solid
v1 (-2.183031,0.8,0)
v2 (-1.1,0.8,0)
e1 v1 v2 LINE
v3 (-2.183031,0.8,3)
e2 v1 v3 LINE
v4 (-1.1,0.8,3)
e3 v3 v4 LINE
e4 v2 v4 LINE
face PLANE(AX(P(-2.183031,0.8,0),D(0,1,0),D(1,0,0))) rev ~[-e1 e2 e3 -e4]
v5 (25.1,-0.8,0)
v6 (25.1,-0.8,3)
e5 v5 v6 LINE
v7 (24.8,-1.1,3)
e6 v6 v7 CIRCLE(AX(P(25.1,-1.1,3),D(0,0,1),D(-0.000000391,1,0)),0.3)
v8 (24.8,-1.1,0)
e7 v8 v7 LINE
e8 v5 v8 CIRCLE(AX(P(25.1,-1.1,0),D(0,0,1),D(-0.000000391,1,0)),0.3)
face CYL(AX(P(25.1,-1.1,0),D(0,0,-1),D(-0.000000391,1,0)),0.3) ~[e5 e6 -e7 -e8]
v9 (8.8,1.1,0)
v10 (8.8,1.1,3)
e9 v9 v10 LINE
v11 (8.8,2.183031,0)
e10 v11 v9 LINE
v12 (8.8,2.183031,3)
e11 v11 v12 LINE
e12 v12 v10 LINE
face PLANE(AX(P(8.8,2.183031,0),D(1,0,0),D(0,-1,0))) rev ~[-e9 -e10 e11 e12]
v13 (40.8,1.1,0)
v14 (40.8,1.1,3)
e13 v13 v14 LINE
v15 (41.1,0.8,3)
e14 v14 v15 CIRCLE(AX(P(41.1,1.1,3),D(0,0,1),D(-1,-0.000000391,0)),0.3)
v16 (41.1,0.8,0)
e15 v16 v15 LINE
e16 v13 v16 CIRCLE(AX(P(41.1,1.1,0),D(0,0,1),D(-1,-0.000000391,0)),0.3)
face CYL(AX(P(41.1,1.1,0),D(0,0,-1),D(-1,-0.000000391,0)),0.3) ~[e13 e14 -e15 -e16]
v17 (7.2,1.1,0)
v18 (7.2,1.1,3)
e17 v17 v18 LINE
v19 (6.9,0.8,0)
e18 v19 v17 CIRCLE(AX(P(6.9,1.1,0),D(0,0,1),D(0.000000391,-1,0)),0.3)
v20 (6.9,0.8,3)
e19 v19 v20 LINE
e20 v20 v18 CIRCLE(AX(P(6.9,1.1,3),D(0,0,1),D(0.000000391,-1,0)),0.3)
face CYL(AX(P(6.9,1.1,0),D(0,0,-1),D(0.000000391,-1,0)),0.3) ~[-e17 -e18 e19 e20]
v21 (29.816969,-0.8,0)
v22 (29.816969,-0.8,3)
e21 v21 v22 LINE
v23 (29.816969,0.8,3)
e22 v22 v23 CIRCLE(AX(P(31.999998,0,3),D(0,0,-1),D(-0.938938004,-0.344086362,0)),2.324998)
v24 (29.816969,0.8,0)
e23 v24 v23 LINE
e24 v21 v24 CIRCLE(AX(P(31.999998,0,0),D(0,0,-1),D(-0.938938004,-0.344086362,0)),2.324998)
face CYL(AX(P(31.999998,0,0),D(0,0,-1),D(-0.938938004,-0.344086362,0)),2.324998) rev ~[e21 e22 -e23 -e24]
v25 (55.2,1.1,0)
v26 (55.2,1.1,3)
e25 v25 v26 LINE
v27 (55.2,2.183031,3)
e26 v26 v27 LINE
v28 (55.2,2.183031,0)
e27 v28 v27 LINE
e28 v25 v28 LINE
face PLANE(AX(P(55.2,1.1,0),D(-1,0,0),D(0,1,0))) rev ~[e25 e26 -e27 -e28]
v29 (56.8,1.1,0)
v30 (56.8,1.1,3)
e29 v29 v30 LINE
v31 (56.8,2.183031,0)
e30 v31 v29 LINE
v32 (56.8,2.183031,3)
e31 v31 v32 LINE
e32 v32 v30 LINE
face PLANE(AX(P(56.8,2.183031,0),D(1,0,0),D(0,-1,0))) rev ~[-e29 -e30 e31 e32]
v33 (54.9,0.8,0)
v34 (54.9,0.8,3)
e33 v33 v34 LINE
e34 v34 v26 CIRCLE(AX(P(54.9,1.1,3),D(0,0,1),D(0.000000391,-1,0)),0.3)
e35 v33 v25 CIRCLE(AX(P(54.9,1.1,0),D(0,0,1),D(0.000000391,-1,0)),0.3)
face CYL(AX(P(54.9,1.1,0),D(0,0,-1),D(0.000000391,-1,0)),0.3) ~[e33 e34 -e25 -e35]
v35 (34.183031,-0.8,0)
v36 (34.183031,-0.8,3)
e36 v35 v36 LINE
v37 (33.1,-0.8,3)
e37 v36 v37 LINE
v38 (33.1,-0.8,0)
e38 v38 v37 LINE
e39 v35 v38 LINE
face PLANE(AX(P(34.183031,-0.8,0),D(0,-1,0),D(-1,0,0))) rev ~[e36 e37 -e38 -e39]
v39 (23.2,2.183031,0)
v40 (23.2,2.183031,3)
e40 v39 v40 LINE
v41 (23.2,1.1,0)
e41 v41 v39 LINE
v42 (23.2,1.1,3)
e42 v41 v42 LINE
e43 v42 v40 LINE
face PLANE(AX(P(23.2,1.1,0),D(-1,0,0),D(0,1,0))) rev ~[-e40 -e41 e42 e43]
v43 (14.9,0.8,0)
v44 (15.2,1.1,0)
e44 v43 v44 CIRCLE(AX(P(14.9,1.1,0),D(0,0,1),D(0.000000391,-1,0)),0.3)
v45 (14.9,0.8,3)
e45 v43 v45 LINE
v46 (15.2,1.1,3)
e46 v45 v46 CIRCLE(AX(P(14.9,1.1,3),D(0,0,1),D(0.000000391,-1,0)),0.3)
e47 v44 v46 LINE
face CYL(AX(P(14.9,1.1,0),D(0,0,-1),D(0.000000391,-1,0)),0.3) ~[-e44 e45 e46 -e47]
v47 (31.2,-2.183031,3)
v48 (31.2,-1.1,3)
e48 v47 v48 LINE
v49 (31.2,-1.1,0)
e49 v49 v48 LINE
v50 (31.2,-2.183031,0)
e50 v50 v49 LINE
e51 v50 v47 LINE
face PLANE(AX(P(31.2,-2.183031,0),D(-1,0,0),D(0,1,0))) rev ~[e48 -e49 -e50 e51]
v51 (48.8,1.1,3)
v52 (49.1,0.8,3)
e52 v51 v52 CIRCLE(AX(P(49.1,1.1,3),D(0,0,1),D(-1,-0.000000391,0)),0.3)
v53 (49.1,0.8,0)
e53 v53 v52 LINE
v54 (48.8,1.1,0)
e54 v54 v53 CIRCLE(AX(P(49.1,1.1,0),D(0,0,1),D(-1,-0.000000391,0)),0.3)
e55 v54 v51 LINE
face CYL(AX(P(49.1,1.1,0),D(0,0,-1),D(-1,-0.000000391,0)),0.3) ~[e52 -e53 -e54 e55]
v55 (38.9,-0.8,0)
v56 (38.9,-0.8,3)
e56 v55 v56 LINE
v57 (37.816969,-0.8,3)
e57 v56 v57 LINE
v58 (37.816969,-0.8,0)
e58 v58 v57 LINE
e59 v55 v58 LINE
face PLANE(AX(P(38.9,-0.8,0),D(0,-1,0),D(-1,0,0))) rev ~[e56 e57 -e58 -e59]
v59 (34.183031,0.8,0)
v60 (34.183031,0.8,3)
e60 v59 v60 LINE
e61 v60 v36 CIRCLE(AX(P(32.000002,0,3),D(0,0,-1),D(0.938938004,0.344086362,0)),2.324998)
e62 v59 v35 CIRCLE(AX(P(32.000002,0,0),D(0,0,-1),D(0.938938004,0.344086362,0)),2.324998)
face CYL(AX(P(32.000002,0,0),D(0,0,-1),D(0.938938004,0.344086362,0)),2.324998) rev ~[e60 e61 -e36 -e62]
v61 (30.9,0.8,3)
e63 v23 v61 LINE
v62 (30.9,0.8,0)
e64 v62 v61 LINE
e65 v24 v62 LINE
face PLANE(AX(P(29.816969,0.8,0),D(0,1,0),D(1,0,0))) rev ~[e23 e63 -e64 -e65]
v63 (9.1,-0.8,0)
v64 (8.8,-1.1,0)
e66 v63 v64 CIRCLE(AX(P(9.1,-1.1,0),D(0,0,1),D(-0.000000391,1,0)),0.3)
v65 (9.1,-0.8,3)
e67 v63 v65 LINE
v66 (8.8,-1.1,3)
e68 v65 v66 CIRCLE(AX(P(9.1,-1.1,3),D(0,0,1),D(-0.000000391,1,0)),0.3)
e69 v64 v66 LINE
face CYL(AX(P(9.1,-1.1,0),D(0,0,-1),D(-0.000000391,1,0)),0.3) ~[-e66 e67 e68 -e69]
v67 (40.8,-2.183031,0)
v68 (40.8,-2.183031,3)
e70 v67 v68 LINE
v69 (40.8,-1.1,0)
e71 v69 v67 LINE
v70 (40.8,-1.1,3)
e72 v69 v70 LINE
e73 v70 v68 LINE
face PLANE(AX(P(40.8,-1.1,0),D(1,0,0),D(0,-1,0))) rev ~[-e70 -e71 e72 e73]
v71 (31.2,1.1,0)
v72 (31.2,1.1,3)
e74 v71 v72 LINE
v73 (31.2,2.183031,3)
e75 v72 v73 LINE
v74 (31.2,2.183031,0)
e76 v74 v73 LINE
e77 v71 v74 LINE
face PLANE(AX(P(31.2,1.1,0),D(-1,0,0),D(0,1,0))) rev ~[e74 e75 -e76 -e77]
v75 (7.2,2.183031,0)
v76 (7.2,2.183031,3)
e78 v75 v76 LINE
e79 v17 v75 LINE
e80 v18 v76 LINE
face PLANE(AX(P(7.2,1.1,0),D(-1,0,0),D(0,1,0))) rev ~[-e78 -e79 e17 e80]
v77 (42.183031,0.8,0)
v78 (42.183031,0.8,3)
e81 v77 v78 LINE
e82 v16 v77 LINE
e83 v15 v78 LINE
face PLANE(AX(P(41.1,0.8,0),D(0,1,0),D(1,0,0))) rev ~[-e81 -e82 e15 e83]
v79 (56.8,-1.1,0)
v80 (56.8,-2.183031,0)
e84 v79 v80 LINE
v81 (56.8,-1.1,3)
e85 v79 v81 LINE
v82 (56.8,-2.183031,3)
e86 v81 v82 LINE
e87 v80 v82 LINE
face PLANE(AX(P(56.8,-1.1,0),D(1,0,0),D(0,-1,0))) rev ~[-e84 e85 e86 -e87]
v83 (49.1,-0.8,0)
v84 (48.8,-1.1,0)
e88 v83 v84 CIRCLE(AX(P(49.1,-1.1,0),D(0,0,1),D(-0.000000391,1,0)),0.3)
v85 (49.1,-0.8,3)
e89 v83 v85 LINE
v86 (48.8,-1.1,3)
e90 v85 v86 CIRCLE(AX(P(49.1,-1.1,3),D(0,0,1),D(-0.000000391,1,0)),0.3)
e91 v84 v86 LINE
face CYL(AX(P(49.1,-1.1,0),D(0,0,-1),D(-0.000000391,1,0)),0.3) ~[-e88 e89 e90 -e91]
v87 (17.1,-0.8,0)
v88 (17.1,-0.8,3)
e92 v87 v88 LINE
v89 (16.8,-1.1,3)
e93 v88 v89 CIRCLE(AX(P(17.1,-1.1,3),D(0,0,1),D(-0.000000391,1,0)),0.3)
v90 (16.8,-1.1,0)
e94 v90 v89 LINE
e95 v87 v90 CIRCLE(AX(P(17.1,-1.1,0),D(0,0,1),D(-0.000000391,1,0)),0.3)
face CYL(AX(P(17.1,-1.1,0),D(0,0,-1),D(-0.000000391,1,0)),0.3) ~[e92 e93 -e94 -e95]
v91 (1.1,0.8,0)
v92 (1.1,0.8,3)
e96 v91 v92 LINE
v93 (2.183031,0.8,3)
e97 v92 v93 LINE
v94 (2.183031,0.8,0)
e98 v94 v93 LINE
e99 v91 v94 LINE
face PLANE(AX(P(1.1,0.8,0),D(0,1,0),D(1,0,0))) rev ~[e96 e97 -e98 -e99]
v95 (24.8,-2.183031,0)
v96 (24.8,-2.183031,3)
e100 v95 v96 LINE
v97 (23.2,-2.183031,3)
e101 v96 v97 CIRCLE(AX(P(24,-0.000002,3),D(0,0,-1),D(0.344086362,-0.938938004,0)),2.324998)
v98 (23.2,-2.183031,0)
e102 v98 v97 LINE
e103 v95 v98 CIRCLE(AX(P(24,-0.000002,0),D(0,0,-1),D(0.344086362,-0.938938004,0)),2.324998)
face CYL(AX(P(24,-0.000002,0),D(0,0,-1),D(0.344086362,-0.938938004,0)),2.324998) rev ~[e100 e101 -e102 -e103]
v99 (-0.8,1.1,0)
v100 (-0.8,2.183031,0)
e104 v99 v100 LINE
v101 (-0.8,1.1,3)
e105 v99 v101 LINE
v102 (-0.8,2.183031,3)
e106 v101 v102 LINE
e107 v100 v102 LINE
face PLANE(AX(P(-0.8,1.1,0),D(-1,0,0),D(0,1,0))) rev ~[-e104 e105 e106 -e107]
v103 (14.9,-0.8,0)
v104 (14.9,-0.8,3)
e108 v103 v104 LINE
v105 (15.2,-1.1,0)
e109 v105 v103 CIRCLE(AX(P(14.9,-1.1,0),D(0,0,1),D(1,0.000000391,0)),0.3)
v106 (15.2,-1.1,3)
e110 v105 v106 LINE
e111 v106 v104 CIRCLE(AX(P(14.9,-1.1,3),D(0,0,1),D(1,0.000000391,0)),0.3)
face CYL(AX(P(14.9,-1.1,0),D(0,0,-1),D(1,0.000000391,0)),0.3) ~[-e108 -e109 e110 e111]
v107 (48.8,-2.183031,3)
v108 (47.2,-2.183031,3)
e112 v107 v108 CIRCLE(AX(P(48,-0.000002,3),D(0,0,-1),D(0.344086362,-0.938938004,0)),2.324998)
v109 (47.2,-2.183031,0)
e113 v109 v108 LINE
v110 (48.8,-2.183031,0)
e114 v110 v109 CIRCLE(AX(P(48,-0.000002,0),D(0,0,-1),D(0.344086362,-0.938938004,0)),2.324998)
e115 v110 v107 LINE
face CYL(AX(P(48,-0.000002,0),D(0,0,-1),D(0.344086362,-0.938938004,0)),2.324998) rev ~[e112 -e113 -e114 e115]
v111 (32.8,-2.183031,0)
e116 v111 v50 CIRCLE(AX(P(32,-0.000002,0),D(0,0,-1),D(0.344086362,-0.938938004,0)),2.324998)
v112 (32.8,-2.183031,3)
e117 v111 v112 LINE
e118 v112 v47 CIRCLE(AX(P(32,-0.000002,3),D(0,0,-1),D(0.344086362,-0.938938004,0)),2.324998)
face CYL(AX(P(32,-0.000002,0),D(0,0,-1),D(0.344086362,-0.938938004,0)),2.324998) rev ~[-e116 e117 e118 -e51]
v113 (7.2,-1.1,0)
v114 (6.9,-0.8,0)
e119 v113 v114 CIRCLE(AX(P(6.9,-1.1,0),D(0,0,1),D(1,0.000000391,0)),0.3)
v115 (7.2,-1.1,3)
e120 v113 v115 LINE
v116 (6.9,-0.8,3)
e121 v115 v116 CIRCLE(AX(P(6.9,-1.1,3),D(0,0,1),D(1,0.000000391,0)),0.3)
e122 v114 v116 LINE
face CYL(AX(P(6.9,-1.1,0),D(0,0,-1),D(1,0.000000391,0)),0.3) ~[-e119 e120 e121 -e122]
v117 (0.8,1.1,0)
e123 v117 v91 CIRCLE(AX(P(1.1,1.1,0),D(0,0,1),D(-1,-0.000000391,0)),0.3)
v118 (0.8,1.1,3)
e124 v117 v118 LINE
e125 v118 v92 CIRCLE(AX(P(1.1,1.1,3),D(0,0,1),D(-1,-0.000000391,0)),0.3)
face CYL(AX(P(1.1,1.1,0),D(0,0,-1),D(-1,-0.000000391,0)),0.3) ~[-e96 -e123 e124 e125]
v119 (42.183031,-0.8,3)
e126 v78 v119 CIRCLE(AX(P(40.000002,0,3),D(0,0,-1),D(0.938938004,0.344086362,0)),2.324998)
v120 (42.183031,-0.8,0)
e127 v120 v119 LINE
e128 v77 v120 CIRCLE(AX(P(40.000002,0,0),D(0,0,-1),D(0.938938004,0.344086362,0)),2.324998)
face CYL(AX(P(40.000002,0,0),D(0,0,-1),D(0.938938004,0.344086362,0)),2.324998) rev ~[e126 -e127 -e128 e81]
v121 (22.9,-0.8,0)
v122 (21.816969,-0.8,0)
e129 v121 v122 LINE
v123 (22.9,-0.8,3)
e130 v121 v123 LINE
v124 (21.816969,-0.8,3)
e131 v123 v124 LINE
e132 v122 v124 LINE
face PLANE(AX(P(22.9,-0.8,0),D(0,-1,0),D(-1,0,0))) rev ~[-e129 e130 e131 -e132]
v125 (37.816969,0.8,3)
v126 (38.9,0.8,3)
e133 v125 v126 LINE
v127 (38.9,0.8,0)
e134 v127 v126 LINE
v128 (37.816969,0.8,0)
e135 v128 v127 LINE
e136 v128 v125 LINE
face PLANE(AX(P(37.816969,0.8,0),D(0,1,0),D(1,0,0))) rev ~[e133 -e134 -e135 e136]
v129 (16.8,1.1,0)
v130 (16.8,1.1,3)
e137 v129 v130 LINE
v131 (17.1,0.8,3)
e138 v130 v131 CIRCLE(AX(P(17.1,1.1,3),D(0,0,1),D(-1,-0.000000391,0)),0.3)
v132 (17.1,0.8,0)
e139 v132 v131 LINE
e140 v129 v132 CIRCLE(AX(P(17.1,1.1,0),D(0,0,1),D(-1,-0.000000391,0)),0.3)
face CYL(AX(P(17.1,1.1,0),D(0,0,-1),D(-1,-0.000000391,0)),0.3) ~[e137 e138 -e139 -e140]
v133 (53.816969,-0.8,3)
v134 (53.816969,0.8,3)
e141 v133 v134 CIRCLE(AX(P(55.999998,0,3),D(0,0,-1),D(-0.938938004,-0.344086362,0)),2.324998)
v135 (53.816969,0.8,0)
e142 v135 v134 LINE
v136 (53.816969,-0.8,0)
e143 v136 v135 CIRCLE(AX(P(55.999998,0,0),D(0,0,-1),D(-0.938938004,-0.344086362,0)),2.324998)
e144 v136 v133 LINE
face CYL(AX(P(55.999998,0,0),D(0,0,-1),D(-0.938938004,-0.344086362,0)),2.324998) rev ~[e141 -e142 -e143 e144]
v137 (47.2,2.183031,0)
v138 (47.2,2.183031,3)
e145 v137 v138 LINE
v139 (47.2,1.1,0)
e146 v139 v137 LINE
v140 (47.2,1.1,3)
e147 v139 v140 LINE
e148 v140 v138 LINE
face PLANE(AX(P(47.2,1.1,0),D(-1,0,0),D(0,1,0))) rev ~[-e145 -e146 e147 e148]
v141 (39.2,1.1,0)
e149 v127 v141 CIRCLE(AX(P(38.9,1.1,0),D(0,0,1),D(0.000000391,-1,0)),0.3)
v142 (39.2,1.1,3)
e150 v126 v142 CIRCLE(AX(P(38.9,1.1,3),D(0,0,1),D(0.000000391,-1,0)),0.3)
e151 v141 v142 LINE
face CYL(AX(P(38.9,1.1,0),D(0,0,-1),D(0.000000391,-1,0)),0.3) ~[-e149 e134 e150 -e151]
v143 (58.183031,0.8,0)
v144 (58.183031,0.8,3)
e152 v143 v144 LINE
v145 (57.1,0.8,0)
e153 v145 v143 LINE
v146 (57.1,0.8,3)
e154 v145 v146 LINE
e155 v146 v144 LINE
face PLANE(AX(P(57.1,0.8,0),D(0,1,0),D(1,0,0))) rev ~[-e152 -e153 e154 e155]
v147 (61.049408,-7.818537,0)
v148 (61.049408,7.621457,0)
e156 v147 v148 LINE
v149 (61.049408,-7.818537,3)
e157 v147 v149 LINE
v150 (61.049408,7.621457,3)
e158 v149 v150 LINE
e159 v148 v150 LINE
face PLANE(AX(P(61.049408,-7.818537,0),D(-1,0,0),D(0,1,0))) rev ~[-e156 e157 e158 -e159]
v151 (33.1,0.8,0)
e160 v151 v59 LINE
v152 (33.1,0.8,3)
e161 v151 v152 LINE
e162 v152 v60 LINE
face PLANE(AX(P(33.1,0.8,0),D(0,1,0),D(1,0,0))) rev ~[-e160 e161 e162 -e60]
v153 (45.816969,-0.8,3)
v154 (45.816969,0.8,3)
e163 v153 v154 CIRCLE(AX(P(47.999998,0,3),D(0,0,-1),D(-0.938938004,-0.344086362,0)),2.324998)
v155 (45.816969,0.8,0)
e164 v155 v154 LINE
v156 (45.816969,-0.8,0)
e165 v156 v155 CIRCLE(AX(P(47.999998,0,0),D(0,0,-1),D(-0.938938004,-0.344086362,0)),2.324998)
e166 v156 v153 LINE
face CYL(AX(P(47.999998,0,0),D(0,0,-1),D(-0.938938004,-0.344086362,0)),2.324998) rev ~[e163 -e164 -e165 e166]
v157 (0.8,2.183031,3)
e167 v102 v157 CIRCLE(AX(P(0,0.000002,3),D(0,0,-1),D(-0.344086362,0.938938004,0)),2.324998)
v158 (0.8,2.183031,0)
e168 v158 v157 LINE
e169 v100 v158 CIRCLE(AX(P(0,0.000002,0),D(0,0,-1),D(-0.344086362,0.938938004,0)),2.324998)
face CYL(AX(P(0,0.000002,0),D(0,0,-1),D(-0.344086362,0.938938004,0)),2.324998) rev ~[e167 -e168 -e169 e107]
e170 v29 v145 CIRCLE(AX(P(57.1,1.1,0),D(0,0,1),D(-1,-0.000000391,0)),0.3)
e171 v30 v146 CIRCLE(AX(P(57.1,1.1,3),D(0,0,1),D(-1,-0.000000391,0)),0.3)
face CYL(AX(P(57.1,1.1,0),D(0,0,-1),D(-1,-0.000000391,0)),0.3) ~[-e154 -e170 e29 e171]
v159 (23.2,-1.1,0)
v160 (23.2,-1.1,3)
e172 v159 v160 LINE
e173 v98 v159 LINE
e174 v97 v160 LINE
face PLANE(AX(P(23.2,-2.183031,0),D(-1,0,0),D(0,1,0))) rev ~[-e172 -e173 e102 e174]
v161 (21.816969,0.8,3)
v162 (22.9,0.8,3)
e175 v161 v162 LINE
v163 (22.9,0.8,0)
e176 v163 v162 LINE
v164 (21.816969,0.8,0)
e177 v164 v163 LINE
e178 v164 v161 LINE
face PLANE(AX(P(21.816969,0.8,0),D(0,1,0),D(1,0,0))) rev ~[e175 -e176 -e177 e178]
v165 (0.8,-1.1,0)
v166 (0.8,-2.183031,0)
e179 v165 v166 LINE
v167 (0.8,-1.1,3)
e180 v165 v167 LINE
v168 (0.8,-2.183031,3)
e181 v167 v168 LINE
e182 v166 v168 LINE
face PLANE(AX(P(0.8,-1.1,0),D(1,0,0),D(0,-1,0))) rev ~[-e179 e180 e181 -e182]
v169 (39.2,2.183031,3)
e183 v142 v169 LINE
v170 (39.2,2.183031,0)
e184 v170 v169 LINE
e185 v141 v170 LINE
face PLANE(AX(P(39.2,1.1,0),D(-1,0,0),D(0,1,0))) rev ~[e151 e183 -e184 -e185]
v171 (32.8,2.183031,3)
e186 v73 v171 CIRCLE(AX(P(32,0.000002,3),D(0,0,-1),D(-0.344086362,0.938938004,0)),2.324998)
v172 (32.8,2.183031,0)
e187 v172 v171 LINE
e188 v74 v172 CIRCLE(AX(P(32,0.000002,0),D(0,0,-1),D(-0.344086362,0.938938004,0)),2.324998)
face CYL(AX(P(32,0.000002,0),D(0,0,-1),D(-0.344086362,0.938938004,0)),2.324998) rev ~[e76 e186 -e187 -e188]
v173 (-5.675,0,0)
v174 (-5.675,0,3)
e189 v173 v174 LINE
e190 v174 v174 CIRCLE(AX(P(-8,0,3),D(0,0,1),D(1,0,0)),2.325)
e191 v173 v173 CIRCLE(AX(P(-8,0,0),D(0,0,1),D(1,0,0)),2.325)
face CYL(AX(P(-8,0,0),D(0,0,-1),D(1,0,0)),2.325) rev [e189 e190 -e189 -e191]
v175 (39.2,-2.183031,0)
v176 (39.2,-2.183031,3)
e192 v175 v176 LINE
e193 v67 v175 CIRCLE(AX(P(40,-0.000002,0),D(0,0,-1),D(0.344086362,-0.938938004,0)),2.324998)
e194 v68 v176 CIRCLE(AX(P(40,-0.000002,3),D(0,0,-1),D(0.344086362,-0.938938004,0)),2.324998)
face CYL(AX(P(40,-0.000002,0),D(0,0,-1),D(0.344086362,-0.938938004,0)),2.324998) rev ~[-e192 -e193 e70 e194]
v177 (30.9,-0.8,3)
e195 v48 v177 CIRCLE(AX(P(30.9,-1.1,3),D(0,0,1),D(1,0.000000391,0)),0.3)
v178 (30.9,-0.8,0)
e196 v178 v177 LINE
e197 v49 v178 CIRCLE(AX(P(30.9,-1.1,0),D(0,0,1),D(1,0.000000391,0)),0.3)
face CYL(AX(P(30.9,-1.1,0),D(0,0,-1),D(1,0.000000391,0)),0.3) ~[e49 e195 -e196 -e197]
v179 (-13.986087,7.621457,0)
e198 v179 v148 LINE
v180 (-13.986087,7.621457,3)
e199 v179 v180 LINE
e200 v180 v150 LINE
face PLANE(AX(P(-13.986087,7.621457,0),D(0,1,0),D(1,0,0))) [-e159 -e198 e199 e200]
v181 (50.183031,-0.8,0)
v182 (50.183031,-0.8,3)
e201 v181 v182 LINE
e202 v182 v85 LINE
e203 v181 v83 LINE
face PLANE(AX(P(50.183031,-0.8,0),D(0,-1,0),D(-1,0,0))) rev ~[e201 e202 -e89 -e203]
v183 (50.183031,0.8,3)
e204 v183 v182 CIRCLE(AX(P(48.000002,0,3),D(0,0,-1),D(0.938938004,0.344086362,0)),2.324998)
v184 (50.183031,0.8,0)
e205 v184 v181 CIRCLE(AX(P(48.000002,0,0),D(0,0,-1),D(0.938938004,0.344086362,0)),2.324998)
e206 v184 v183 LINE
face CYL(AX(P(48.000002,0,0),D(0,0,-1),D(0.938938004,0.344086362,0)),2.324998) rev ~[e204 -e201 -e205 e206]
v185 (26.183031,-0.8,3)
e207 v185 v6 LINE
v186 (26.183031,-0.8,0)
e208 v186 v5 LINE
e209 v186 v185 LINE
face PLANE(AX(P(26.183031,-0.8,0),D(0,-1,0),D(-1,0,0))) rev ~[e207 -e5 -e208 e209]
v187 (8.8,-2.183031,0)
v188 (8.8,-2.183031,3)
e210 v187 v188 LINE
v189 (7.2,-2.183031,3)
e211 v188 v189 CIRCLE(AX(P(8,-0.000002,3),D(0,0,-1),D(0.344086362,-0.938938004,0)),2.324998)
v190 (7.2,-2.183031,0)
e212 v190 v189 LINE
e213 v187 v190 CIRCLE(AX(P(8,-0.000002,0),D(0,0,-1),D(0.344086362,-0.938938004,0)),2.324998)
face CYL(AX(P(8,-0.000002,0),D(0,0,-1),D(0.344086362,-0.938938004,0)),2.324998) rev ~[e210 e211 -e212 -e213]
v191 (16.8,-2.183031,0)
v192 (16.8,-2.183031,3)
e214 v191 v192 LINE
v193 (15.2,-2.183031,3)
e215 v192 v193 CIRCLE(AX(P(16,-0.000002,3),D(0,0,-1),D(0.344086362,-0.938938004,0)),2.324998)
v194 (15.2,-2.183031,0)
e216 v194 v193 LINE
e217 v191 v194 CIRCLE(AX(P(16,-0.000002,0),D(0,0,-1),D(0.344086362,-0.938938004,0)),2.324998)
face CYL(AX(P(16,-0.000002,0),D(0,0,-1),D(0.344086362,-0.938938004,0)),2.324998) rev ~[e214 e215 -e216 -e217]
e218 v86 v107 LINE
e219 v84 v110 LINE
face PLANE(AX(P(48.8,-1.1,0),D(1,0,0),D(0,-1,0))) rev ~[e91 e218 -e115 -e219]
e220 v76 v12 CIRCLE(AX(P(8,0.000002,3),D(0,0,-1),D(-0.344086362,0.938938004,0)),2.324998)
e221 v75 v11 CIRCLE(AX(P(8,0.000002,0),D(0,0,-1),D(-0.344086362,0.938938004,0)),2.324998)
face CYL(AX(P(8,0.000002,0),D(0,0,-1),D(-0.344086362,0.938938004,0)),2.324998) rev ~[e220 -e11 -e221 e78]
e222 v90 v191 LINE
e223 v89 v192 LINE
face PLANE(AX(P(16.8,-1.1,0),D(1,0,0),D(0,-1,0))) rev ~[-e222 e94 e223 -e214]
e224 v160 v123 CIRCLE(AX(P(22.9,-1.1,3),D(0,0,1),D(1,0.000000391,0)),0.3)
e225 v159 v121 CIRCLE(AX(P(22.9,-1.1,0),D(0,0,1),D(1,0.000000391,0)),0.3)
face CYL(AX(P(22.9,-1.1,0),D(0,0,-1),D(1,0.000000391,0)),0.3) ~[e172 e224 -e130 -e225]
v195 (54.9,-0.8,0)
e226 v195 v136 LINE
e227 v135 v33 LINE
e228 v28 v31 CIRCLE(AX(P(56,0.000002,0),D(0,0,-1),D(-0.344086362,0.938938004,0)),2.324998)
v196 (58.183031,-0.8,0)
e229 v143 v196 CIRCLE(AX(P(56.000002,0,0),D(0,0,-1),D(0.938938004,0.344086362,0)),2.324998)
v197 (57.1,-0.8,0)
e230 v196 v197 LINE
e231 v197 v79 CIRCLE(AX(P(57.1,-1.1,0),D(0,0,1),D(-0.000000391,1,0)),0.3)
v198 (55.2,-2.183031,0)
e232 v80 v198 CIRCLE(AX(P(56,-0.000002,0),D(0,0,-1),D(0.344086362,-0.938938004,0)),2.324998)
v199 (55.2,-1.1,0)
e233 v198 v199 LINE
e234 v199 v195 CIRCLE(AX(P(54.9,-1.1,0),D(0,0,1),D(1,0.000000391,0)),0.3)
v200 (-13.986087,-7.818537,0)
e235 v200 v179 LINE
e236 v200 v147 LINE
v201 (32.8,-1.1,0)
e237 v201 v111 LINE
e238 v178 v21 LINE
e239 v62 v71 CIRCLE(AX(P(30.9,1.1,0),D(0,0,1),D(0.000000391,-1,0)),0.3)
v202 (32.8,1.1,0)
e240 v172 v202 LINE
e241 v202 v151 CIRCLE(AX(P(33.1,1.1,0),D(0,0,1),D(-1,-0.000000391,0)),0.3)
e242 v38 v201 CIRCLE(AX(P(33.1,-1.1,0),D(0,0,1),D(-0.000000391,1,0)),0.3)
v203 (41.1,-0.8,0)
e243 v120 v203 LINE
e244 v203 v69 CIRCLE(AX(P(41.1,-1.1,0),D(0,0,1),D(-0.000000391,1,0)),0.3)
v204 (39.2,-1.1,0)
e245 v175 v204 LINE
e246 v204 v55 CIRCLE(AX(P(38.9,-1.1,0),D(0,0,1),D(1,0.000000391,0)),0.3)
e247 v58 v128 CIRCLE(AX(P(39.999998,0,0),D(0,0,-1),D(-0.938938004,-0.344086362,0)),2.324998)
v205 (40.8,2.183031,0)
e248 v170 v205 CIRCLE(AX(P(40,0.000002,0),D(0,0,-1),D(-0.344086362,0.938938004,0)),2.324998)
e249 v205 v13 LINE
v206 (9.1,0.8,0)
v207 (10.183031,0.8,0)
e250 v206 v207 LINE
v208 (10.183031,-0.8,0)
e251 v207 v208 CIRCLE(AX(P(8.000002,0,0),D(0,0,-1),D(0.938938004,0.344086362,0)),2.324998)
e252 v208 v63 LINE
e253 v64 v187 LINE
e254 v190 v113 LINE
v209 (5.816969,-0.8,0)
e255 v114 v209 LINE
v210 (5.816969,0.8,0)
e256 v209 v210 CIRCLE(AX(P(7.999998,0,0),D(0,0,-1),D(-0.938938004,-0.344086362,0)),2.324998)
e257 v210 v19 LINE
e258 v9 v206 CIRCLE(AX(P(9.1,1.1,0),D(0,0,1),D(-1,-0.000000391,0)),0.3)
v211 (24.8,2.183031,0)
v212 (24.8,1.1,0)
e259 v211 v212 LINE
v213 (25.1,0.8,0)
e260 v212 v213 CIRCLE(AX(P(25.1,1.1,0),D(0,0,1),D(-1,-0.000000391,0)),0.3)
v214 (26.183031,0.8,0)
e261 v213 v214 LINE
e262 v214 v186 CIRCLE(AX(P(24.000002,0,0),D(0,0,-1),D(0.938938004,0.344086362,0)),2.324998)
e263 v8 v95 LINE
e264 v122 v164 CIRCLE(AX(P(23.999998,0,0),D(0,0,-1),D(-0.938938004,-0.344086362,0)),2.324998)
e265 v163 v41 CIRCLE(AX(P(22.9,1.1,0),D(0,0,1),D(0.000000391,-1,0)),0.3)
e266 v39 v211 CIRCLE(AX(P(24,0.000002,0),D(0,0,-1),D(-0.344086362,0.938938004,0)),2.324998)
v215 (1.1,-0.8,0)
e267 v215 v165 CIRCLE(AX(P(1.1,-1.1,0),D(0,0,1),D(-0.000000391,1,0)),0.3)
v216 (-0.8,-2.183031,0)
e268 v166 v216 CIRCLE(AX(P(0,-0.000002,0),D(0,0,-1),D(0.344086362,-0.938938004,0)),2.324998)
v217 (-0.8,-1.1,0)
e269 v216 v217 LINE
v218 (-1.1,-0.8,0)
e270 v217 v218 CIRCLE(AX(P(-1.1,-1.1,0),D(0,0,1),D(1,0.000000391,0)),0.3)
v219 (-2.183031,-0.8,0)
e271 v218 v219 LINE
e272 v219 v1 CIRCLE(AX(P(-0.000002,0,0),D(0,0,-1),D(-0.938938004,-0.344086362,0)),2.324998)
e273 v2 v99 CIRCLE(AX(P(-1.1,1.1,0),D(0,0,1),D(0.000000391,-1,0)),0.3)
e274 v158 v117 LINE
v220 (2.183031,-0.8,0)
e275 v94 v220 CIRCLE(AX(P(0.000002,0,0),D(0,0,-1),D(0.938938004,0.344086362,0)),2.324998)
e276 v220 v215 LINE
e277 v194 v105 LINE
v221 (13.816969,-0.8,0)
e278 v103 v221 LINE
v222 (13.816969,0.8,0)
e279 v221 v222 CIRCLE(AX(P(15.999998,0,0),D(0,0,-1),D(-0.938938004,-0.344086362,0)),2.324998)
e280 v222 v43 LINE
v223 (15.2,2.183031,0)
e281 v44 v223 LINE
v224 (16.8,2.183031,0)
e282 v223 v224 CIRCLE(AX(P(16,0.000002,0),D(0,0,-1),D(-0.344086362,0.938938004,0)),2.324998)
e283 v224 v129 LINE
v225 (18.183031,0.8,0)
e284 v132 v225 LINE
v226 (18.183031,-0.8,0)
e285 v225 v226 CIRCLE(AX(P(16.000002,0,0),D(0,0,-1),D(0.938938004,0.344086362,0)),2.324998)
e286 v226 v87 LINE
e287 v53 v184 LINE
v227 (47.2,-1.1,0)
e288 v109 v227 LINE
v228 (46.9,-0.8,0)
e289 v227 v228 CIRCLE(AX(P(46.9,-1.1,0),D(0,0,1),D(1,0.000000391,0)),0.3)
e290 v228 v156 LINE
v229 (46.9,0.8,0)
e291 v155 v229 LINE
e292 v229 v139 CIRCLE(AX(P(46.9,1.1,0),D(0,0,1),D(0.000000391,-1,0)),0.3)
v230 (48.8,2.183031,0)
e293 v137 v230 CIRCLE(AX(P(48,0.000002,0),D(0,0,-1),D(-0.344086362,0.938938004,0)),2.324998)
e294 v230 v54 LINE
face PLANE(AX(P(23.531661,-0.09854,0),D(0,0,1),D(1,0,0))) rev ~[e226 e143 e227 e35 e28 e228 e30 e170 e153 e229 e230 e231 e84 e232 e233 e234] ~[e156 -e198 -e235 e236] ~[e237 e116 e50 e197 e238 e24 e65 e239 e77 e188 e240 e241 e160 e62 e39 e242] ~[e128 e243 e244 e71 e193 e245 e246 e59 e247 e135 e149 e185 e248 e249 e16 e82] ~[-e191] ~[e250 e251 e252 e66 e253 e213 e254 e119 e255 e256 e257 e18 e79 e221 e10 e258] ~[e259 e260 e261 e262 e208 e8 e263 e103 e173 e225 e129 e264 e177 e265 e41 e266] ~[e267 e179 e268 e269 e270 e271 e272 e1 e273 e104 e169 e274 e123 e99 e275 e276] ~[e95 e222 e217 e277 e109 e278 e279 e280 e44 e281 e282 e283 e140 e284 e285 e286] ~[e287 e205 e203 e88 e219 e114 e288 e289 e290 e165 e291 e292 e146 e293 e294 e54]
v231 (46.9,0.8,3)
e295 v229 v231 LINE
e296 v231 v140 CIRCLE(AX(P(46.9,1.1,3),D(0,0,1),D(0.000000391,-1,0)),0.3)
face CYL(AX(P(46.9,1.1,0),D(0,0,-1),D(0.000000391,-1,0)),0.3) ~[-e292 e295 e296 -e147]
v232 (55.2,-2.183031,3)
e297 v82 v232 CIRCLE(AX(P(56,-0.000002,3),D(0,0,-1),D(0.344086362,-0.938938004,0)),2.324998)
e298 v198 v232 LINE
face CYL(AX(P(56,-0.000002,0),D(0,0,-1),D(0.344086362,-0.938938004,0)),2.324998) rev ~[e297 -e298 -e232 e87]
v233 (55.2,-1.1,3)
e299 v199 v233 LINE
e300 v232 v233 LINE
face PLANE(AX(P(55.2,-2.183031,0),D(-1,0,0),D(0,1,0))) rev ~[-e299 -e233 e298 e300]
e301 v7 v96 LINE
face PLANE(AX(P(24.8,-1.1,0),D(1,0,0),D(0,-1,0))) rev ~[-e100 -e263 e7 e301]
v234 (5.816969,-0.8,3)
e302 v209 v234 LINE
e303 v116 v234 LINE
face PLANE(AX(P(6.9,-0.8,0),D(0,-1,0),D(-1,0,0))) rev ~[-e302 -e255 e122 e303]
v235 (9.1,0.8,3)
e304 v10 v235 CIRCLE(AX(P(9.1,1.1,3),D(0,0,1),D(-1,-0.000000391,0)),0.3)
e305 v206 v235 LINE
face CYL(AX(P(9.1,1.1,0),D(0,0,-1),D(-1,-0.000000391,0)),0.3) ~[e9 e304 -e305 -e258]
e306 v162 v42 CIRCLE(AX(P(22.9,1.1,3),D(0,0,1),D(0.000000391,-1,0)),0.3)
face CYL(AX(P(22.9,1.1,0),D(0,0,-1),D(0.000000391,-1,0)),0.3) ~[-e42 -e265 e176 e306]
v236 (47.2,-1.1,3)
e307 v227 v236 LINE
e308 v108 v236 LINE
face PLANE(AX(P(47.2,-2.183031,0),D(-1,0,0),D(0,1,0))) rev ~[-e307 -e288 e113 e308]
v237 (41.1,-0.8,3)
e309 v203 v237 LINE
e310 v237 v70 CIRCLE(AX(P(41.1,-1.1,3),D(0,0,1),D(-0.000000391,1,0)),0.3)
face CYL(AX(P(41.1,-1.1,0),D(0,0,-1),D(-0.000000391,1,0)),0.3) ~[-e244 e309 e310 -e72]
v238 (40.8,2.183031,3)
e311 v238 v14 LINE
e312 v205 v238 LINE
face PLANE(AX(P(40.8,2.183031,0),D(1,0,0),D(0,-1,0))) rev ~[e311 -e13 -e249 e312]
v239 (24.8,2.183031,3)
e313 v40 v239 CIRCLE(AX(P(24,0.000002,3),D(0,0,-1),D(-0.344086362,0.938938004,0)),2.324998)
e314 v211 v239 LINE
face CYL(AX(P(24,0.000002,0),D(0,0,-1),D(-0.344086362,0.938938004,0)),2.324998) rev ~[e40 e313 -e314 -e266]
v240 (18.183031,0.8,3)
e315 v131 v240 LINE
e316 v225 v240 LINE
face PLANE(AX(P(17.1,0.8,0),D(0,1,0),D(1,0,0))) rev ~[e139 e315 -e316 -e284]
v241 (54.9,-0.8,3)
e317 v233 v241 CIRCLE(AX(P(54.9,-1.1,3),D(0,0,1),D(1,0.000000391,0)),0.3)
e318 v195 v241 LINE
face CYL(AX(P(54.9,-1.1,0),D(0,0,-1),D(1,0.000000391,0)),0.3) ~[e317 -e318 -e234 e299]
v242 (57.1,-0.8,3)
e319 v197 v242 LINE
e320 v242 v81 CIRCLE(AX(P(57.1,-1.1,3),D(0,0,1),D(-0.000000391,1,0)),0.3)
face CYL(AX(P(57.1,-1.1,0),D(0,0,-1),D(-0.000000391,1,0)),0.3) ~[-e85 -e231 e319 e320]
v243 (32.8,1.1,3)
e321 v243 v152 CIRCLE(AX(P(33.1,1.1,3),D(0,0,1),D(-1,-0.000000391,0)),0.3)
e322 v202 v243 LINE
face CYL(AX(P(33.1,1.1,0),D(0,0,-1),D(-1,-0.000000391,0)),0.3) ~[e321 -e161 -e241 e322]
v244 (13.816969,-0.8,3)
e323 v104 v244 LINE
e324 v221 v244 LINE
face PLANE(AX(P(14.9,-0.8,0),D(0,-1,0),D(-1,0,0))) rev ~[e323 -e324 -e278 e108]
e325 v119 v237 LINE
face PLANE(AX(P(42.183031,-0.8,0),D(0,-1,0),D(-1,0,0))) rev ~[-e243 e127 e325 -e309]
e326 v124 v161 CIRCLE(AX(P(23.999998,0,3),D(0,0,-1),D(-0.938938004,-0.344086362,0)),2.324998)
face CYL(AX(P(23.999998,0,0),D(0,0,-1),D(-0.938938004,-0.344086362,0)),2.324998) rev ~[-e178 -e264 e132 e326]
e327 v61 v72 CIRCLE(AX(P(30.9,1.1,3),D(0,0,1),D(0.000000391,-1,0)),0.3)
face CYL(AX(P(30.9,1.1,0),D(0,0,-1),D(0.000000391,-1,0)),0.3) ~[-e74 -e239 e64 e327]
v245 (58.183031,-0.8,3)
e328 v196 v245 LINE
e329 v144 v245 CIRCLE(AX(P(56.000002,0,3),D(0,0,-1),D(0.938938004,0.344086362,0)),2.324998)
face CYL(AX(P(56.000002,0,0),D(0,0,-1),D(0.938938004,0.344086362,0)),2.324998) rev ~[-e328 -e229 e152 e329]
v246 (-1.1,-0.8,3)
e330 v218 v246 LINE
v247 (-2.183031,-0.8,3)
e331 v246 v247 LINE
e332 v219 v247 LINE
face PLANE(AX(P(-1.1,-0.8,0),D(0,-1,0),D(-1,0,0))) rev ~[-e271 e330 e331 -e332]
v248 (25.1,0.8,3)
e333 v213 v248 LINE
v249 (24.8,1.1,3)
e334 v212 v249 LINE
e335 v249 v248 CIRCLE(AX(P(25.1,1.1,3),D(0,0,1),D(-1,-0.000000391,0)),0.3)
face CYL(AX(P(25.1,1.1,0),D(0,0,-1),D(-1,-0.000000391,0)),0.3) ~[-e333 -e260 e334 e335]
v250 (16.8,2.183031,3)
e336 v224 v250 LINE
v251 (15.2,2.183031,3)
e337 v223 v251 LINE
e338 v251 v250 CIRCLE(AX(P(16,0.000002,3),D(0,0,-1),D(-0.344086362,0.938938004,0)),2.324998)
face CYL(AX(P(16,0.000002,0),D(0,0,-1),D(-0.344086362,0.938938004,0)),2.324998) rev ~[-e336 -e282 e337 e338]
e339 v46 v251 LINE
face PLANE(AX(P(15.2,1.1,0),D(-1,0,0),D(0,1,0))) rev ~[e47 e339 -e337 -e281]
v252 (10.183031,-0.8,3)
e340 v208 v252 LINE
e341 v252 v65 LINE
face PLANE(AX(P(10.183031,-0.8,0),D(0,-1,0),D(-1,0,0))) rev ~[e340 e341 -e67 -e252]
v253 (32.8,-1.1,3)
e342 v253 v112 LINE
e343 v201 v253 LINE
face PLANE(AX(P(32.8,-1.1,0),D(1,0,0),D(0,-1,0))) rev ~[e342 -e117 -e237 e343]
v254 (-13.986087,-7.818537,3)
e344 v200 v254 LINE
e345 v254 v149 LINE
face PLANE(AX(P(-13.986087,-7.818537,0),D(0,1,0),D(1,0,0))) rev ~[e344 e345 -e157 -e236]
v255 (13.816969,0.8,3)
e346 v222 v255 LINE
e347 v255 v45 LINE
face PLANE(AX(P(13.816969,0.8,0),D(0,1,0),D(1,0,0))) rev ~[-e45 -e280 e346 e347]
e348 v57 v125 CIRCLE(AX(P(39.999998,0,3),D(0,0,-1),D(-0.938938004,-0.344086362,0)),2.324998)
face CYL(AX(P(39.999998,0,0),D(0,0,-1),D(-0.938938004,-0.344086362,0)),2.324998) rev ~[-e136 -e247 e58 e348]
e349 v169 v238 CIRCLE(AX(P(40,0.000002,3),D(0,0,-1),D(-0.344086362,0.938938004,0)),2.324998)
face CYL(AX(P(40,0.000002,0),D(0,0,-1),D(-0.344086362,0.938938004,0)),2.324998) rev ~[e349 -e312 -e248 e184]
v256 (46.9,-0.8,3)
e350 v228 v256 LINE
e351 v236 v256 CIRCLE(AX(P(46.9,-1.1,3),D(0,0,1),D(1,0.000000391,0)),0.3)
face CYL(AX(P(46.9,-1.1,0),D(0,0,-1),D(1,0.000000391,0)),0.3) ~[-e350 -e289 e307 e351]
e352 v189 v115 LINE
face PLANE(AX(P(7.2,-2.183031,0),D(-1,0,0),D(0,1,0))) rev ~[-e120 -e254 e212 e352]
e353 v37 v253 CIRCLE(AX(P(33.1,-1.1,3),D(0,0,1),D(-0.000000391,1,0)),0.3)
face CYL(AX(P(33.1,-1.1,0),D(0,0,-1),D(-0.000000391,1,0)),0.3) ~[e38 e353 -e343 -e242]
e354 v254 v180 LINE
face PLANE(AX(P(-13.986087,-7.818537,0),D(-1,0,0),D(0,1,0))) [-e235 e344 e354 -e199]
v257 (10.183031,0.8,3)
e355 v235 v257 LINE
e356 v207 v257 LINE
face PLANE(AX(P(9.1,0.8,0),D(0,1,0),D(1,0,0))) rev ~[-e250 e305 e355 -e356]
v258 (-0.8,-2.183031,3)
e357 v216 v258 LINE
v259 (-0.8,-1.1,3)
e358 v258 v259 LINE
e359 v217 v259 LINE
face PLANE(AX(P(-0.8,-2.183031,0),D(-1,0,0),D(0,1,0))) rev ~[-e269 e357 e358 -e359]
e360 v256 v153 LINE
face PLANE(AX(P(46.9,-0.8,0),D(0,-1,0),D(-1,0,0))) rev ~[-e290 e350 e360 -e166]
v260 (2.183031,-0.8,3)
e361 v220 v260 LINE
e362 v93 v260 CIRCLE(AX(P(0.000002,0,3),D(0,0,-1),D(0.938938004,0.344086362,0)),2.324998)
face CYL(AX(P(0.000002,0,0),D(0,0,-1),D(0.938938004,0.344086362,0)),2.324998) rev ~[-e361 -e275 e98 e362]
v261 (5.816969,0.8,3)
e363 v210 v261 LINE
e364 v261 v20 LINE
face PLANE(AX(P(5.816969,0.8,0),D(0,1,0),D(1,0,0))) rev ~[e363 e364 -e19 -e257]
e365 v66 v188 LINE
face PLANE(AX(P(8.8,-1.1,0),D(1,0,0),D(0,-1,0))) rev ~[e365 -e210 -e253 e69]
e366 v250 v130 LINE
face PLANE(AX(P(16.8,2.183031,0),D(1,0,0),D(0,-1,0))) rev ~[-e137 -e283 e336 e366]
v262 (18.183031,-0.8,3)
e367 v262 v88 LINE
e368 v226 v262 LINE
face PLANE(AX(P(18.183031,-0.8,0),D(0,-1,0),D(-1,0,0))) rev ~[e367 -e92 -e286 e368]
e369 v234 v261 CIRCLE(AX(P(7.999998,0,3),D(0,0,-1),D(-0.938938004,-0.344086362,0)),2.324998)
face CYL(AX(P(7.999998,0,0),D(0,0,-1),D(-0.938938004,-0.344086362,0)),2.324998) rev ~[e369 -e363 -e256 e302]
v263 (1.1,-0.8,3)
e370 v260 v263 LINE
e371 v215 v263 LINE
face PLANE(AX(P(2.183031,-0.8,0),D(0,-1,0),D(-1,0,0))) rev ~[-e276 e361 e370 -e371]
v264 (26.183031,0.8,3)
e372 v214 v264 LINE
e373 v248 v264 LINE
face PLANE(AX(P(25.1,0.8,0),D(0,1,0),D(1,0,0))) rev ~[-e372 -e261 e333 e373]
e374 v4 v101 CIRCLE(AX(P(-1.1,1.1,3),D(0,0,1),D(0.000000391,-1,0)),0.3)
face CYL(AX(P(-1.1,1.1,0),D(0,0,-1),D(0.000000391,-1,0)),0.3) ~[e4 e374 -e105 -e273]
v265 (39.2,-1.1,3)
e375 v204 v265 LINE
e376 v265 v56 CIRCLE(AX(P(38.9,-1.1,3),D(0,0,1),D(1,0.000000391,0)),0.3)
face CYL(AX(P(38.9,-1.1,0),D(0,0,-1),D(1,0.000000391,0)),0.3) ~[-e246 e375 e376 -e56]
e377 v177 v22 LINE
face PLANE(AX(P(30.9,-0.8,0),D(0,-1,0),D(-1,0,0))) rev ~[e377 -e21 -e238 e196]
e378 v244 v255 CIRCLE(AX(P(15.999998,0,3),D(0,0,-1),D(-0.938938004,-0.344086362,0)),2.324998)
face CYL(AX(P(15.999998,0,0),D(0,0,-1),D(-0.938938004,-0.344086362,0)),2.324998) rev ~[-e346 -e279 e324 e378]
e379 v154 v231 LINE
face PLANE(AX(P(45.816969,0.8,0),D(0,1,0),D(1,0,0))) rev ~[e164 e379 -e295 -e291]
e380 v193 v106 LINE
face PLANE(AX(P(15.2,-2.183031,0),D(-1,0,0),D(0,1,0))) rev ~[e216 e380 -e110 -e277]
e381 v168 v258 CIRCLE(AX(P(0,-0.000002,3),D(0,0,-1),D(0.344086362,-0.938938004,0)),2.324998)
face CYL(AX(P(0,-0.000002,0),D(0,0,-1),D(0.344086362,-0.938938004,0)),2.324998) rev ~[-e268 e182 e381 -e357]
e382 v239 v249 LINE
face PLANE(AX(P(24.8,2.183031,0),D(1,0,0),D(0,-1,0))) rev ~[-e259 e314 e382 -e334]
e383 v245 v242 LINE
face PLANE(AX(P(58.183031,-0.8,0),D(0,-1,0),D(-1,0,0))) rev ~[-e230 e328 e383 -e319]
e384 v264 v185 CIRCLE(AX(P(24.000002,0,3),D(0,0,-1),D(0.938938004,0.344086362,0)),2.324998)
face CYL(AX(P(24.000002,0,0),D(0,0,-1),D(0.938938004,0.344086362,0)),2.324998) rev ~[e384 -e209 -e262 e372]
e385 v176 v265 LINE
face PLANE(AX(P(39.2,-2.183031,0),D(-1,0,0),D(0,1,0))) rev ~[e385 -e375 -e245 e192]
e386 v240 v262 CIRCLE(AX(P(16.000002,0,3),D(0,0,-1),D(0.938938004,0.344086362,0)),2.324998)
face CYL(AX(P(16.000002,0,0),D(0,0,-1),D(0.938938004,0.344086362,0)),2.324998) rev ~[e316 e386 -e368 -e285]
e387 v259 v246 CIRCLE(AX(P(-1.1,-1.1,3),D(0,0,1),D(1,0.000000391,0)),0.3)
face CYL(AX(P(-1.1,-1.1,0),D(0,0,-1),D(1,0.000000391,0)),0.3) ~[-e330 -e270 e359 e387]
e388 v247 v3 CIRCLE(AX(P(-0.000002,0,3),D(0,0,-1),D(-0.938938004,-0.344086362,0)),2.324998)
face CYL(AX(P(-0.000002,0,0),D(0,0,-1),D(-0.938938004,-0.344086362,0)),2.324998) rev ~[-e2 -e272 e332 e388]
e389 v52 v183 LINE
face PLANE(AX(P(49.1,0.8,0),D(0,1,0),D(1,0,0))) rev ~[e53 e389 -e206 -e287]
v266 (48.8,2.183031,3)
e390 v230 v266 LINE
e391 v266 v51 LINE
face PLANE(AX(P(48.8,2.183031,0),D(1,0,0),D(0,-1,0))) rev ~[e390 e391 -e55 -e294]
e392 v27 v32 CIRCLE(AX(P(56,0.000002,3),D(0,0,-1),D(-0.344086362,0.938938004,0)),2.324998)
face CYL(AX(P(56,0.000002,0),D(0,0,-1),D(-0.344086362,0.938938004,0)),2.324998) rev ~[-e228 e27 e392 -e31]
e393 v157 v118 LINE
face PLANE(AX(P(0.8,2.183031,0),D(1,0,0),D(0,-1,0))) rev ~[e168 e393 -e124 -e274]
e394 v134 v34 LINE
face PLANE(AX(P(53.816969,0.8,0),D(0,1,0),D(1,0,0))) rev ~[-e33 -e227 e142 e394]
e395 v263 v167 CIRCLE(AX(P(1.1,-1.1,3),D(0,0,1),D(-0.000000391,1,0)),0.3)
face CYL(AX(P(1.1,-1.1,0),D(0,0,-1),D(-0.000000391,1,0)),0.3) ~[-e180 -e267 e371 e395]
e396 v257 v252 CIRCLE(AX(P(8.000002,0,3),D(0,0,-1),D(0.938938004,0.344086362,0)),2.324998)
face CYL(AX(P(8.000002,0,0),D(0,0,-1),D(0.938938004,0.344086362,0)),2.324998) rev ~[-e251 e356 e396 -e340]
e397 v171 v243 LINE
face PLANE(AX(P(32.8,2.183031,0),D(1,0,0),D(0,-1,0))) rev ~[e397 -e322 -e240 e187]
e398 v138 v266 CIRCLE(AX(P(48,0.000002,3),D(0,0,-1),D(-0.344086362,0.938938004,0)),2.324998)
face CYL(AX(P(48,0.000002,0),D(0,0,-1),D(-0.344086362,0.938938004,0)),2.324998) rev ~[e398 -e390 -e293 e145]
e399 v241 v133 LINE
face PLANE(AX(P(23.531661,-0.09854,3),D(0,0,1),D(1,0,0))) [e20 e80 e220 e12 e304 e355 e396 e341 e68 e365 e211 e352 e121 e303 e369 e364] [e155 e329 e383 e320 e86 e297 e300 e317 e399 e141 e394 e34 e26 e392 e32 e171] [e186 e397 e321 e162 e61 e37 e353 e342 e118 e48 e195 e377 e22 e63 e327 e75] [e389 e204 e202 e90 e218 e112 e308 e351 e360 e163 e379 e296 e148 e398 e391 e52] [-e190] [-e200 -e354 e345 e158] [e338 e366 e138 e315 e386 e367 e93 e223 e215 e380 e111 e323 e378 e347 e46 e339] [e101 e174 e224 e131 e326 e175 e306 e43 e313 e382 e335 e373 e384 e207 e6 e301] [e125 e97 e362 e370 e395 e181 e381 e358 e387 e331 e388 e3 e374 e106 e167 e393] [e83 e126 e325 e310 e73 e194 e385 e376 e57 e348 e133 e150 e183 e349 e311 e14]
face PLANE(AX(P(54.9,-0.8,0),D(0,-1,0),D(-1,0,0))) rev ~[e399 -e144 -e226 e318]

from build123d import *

# Parameters (mm, degrees)
F0_W     = 75.035495
F0_H     = 15.439995
F0_R     = 2.325
F1_DEPTH = 3


with BuildPart() as f1:
    # F0 (on Top) → F1 (new body)
    with BuildSketch(Plane.XY):
        with Locations((23.531661, -0.09854)):
            Rectangle(F0_W, F0_H)
        with Locations((-8, 0)):
            Circle(F0_R, mode=Mode.SUBTRACT)
        with BuildLine():
            Line((0.8, 2.183031), (0.8, 1.1))
            ThreePointArc((0.8, 1.1), (0.887868, 0.887868), (1.1, 0.8))
            Line((1.1, 0.8), (2.183031, 0.8))
            ThreePointArc((2.183031, 0.8), (2.325, 0), (2.183031, -0.8))
            Line((2.183031, -0.8), (1.1, -0.8))
            ThreePointArc((1.1, -0.8), (0.887868, -0.887868), (0.8, -1.1))
            Line((0.8, -1.1), (0.8, -2.183031))
            ThreePointArc((0.8, -2.183031), (0, -2.325), (-0.8, -2.183031))
            Line((-0.8, -2.183031), (-0.8, -1.1))
            ThreePointArc((-0.8, -1.1), (-0.887868, -0.887868), (-1.1, -0.8))
            Line((-1.1, -0.8), (-2.183031, -0.8))
            ThreePointArc((-2.183031, -0.8), (-2.325, 0), (-2.183031, 0.8))
            Line((-2.183031, 0.8), (-1.1, 0.8))
            ThreePointArc((-1.1, 0.8), (-0.887868, 0.887868), (-0.8, 1.1))
            Line((-0.8, 1.1), (-0.8, 2.183031))
            ThreePointArc((-0.8, 2.183031), (0, 2.325), (0.8, 2.183031))
        make_face(mode=Mode.SUBTRACT)
        with BuildLine():
            ThreePointArc((8.8, -2.183031), (8, -2.325), (7.2, -2.183031))
            Line((7.2, -2.183031), (7.2, -1.1))
            ThreePointArc((7.2, -1.1), (7.112132, -0.887868), (6.9, -0.8))
            Line((6.9, -0.8), (5.816969, -0.8))
            ThreePointArc((5.816969, -0.8), (5.675, 0), (5.816969, 0.8))
            Line((5.816969, 0.8), (6.9, 0.8))
            ThreePointArc((6.9, 0.8), (7.112132, 0.887868), (7.2, 1.1))
            Line((7.2, 1.1), (7.2, 2.183031))
            ThreePointArc((7.2, 2.183031), (8, 2.325), (8.8, 2.183031))
            Line((8.8, 2.183031), (8.8, 1.1))
            ThreePointArc((8.8, 1.1), (8.887868, 0.887868), (9.1, 0.8))
            Line((9.1, 0.8), (10.183031, 0.8))
            ThreePointArc((10.183031, 0.8), (10.325, 0), (10.183031, -0.8))
            Line((10.183031, -0.8), (9.1, -0.8))
            ThreePointArc((9.1, -0.8), (8.887868, -0.887868), (8.8, -1.1))
            Line((8.8, -1.1), (8.8, -2.183031))
        make_face(mode=Mode.SUBTRACT)
        with BuildLine():
            ThreePointArc((16.8, -2.183031), (16, -2.325), (15.2, -2.183031))
            Line((15.2, -2.183031), (15.2, -1.1))
            ThreePointArc((15.2, -1.1), (15.112132, -0.887868), (14.9, -0.8))
            Line((14.9, -0.8), (13.816969, -0.8))
            ThreePointArc((13.816969, -0.8), (13.675, 0), (13.816969, 0.8))
            Line((13.816969, 0.8), (14.9, 0.8))
            ThreePointArc((14.9, 0.8), (15.112132, 0.887868), (15.2, 1.1))
            Line((15.2, 1.1), (15.2, 2.183031))
            ThreePointArc((15.2, 2.183031), (16, 2.325), (16.8, 2.183031))
            Line((16.8, 2.183031), (16.8, 1.1))
            ThreePointArc((16.8, 1.1), (16.887868, 0.887868), (17.1, 0.8))
            Line((17.1, 0.8), (18.183031, 0.8))
            ThreePointArc((18.183031, 0.8), (18.325, 0), (18.183031, -0.8))
            Line((18.183031, -0.8), (17.1, -0.8))
            ThreePointArc((17.1, -0.8), (16.887868, -0.887868), (16.8, -1.1))
            Line((16.8, -1.1), (16.8, -2.183031))
        make_face(mode=Mode.SUBTRACT)
        with BuildLine():
            ThreePointArc((24.8, -2.183031), (24, -2.325), (23.2, -2.183031))
            Line((23.2, -2.183031), (23.2, -1.1))
            ThreePointArc((23.2, -1.1), (23.112132, -0.887868), (22.9, -0.8))
            Line((22.9, -0.8), (21.816969, -0.8))
            ThreePointArc((21.816969, -0.8), (21.675, 0), (21.816969, 0.8))
            Line((21.816969, 0.8), (22.9, 0.8))
            ThreePointArc((22.9, 0.8), (23.112132, 0.887868), (23.2, 1.1))
            Line((23.2, 1.1), (23.2, 2.183031))
            ThreePointArc((23.2, 2.183031), (24, 2.325), (24.8, 2.183031))
            Line((24.8, 2.183031), (24.8, 1.1))
            ThreePointArc((24.8, 1.1), (24.887868, 0.887868), (25.1, 0.8))
            Line((25.1, 0.8), (26.183031, 0.8))
            ThreePointArc((26.183031, 0.8), (26.325, 0), (26.183031, -0.8))
            Line((26.183031, -0.8), (25.1, -0.8))
            ThreePointArc((25.1, -0.8), (24.887868, -0.887868), (24.8, -1.1))
            Line((24.8, -1.1), (24.8, -2.183031))
        make_face(mode=Mode.SUBTRACT)
        with BuildLine():
            ThreePointArc((32.8, -2.183031), (32, -2.325), (31.2, -2.183031))
            Line((31.2, -2.183031), (31.2, -1.1))
            ThreePointArc((31.2, -1.1), (31.112132, -0.887868), (30.9, -0.8))
            Line((30.9, -0.8), (29.816969, -0.8))
            ThreePointArc((29.816969, -0.8), (29.675, 0), (29.816969, 0.8))
            Line((29.816969, 0.8), (30.9, 0.8))
            ThreePointArc((30.9, 0.8), (31.112132, 0.887868), (31.2, 1.1))
            Line((31.2, 1.1), (31.2, 2.183031))
            ThreePointArc((31.2, 2.183031), (32, 2.325), (32.8, 2.183031))
            Line((32.8, 2.183031), (32.8, 1.1))
            ThreePointArc((32.8, 1.1), (32.887868, 0.887868), (33.1, 0.8))
            Line((33.1, 0.8), (34.183031, 0.8))
            ThreePointArc((34.183031, 0.8), (34.325, 0), (34.183031, -0.8))
            Line((34.183031, -0.8), (33.1, -0.8))
            ThreePointArc((33.1, -0.8), (32.887868, -0.887868), (32.8, -1.1))
            Line((32.8, -1.1), (32.8, -2.183031))
        make_face(mode=Mode.SUBTRACT)
        with BuildLine():
            ThreePointArc((40.8, -2.183031), (40, -2.325), (39.2, -2.183031))
            Line((39.2, -2.183031), (39.2, -1.1))
            ThreePointArc((39.2, -1.1), (39.112132, -0.887868), (38.9, -0.8))
            Line((38.9, -0.8), (37.816969, -0.8))
            ThreePointArc((37.816969, -0.8), (37.675, 0), (37.816969, 0.8))
            Line((37.816969, 0.8), (38.9, 0.8))
            ThreePointArc((38.9, 0.8), (39.112132, 0.887868), (39.2, 1.1))
            Line((39.2, 1.1), (39.2, 2.183031))
            ThreePointArc((39.2, 2.183031), (40, 2.325), (40.8, 2.183031))
            Line((40.8, 2.183031), (40.8, 1.1))
            ThreePointArc((40.8, 1.1), (40.887868, 0.887868), (41.1, 0.8))
            Line((41.1, 0.8), (42.183031, 0.8))
            ThreePointArc((42.183031, 0.8), (42.325, 0), (42.183031, -0.8))
            Line((42.183031, -0.8), (41.1, -0.8))
            ThreePointArc((41.1, -0.8), (40.887868, -0.887868), (40.8, -1.1))
            Line((40.8, -1.1), (40.8, -2.183031))
        make_face(mode=Mode.SUBTRACT)
        with BuildLine():
            ThreePointArc((48.8, -2.183031), (48, -2.325), (47.2, -2.183031))
            Line((47.2, -2.183031), (47.2, -1.1))
            ThreePointArc((47.2, -1.1), (47.112132, -0.887868), (46.9, -0.8))
            Line((46.9, -0.8), (45.816969, -0.8))
            ThreePointArc((45.816969, -0.8), (45.675, 0), (45.816969, 0.8))
            Line((45.816969, 0.8), (46.9, 0.8))
            ThreePointArc((46.9, 0.8), (47.112132, 0.887868), (47.2, 1.1))
            Line((47.2, 1.1), (47.2, 2.183031))
            ThreePointArc((47.2, 2.183031), (48, 2.325), (48.8, 2.183031))
            Line((48.8, 2.183031), (48.8, 1.1))
            ThreePointArc((48.8, 1.1), (48.887868, 0.887868), (49.1, 0.8))
            Line((49.1, 0.8), (50.183031, 0.8))
            ThreePointArc((50.183031, 0.8), (50.325, 0), (50.183031, -0.8))
            Line((50.183031, -0.8), (49.1, -0.8))
            ThreePointArc((49.1, -0.8), (48.887868, -0.887868), (48.8, -1.1))
            Line((48.8, -1.1), (48.8, -2.183031))
        make_face(mode=Mode.SUBTRACT)
        with BuildLine():
            ThreePointArc((56.8, -2.183031), (56, -2.325), (55.2, -2.183031))
            Line((55.2, -2.183031), (55.2, -1.1))
            ThreePointArc((55.2, -1.1), (55.112132, -0.887868), (54.9, -0.8))
            Line((54.9, -0.8), (53.816969, -0.8))
            ThreePointArc((53.816969, -0.8), (53.675, 0), (53.816969, 0.8))
            Line((53.816969, 0.8), (54.9, 0.8))
            ThreePointArc((54.9, 0.8), (55.112132, 0.887868), (55.2, 1.1))
            Line((55.2, 1.1), (55.2, 2.183031))
            ThreePointArc((55.2, 2.183031), (56, 2.325), (56.8, 2.183031))
            Line((56.8, 2.183031), (56.8, 1.1))
            ThreePointArc((56.8, 1.1), (56.887868, 0.887868), (57.1, 0.8))
            Line((57.1, 0.8), (58.183031, 0.8))
            ThreePointArc((58.183031, 0.8), (58.325, 0), (58.183031, -0.8))
            Line((58.183031, -0.8), (57.1, -0.8))
            ThreePointArc((57.1, -0.8), (56.887868, -0.887868), (56.8, -1.1))
            Line((56.8, -1.1), (56.8, -2.183031))
        make_face(mode=Mode.SUBTRACT)
    extrude(amount=F1_DEPTH)


solid = f1.part
